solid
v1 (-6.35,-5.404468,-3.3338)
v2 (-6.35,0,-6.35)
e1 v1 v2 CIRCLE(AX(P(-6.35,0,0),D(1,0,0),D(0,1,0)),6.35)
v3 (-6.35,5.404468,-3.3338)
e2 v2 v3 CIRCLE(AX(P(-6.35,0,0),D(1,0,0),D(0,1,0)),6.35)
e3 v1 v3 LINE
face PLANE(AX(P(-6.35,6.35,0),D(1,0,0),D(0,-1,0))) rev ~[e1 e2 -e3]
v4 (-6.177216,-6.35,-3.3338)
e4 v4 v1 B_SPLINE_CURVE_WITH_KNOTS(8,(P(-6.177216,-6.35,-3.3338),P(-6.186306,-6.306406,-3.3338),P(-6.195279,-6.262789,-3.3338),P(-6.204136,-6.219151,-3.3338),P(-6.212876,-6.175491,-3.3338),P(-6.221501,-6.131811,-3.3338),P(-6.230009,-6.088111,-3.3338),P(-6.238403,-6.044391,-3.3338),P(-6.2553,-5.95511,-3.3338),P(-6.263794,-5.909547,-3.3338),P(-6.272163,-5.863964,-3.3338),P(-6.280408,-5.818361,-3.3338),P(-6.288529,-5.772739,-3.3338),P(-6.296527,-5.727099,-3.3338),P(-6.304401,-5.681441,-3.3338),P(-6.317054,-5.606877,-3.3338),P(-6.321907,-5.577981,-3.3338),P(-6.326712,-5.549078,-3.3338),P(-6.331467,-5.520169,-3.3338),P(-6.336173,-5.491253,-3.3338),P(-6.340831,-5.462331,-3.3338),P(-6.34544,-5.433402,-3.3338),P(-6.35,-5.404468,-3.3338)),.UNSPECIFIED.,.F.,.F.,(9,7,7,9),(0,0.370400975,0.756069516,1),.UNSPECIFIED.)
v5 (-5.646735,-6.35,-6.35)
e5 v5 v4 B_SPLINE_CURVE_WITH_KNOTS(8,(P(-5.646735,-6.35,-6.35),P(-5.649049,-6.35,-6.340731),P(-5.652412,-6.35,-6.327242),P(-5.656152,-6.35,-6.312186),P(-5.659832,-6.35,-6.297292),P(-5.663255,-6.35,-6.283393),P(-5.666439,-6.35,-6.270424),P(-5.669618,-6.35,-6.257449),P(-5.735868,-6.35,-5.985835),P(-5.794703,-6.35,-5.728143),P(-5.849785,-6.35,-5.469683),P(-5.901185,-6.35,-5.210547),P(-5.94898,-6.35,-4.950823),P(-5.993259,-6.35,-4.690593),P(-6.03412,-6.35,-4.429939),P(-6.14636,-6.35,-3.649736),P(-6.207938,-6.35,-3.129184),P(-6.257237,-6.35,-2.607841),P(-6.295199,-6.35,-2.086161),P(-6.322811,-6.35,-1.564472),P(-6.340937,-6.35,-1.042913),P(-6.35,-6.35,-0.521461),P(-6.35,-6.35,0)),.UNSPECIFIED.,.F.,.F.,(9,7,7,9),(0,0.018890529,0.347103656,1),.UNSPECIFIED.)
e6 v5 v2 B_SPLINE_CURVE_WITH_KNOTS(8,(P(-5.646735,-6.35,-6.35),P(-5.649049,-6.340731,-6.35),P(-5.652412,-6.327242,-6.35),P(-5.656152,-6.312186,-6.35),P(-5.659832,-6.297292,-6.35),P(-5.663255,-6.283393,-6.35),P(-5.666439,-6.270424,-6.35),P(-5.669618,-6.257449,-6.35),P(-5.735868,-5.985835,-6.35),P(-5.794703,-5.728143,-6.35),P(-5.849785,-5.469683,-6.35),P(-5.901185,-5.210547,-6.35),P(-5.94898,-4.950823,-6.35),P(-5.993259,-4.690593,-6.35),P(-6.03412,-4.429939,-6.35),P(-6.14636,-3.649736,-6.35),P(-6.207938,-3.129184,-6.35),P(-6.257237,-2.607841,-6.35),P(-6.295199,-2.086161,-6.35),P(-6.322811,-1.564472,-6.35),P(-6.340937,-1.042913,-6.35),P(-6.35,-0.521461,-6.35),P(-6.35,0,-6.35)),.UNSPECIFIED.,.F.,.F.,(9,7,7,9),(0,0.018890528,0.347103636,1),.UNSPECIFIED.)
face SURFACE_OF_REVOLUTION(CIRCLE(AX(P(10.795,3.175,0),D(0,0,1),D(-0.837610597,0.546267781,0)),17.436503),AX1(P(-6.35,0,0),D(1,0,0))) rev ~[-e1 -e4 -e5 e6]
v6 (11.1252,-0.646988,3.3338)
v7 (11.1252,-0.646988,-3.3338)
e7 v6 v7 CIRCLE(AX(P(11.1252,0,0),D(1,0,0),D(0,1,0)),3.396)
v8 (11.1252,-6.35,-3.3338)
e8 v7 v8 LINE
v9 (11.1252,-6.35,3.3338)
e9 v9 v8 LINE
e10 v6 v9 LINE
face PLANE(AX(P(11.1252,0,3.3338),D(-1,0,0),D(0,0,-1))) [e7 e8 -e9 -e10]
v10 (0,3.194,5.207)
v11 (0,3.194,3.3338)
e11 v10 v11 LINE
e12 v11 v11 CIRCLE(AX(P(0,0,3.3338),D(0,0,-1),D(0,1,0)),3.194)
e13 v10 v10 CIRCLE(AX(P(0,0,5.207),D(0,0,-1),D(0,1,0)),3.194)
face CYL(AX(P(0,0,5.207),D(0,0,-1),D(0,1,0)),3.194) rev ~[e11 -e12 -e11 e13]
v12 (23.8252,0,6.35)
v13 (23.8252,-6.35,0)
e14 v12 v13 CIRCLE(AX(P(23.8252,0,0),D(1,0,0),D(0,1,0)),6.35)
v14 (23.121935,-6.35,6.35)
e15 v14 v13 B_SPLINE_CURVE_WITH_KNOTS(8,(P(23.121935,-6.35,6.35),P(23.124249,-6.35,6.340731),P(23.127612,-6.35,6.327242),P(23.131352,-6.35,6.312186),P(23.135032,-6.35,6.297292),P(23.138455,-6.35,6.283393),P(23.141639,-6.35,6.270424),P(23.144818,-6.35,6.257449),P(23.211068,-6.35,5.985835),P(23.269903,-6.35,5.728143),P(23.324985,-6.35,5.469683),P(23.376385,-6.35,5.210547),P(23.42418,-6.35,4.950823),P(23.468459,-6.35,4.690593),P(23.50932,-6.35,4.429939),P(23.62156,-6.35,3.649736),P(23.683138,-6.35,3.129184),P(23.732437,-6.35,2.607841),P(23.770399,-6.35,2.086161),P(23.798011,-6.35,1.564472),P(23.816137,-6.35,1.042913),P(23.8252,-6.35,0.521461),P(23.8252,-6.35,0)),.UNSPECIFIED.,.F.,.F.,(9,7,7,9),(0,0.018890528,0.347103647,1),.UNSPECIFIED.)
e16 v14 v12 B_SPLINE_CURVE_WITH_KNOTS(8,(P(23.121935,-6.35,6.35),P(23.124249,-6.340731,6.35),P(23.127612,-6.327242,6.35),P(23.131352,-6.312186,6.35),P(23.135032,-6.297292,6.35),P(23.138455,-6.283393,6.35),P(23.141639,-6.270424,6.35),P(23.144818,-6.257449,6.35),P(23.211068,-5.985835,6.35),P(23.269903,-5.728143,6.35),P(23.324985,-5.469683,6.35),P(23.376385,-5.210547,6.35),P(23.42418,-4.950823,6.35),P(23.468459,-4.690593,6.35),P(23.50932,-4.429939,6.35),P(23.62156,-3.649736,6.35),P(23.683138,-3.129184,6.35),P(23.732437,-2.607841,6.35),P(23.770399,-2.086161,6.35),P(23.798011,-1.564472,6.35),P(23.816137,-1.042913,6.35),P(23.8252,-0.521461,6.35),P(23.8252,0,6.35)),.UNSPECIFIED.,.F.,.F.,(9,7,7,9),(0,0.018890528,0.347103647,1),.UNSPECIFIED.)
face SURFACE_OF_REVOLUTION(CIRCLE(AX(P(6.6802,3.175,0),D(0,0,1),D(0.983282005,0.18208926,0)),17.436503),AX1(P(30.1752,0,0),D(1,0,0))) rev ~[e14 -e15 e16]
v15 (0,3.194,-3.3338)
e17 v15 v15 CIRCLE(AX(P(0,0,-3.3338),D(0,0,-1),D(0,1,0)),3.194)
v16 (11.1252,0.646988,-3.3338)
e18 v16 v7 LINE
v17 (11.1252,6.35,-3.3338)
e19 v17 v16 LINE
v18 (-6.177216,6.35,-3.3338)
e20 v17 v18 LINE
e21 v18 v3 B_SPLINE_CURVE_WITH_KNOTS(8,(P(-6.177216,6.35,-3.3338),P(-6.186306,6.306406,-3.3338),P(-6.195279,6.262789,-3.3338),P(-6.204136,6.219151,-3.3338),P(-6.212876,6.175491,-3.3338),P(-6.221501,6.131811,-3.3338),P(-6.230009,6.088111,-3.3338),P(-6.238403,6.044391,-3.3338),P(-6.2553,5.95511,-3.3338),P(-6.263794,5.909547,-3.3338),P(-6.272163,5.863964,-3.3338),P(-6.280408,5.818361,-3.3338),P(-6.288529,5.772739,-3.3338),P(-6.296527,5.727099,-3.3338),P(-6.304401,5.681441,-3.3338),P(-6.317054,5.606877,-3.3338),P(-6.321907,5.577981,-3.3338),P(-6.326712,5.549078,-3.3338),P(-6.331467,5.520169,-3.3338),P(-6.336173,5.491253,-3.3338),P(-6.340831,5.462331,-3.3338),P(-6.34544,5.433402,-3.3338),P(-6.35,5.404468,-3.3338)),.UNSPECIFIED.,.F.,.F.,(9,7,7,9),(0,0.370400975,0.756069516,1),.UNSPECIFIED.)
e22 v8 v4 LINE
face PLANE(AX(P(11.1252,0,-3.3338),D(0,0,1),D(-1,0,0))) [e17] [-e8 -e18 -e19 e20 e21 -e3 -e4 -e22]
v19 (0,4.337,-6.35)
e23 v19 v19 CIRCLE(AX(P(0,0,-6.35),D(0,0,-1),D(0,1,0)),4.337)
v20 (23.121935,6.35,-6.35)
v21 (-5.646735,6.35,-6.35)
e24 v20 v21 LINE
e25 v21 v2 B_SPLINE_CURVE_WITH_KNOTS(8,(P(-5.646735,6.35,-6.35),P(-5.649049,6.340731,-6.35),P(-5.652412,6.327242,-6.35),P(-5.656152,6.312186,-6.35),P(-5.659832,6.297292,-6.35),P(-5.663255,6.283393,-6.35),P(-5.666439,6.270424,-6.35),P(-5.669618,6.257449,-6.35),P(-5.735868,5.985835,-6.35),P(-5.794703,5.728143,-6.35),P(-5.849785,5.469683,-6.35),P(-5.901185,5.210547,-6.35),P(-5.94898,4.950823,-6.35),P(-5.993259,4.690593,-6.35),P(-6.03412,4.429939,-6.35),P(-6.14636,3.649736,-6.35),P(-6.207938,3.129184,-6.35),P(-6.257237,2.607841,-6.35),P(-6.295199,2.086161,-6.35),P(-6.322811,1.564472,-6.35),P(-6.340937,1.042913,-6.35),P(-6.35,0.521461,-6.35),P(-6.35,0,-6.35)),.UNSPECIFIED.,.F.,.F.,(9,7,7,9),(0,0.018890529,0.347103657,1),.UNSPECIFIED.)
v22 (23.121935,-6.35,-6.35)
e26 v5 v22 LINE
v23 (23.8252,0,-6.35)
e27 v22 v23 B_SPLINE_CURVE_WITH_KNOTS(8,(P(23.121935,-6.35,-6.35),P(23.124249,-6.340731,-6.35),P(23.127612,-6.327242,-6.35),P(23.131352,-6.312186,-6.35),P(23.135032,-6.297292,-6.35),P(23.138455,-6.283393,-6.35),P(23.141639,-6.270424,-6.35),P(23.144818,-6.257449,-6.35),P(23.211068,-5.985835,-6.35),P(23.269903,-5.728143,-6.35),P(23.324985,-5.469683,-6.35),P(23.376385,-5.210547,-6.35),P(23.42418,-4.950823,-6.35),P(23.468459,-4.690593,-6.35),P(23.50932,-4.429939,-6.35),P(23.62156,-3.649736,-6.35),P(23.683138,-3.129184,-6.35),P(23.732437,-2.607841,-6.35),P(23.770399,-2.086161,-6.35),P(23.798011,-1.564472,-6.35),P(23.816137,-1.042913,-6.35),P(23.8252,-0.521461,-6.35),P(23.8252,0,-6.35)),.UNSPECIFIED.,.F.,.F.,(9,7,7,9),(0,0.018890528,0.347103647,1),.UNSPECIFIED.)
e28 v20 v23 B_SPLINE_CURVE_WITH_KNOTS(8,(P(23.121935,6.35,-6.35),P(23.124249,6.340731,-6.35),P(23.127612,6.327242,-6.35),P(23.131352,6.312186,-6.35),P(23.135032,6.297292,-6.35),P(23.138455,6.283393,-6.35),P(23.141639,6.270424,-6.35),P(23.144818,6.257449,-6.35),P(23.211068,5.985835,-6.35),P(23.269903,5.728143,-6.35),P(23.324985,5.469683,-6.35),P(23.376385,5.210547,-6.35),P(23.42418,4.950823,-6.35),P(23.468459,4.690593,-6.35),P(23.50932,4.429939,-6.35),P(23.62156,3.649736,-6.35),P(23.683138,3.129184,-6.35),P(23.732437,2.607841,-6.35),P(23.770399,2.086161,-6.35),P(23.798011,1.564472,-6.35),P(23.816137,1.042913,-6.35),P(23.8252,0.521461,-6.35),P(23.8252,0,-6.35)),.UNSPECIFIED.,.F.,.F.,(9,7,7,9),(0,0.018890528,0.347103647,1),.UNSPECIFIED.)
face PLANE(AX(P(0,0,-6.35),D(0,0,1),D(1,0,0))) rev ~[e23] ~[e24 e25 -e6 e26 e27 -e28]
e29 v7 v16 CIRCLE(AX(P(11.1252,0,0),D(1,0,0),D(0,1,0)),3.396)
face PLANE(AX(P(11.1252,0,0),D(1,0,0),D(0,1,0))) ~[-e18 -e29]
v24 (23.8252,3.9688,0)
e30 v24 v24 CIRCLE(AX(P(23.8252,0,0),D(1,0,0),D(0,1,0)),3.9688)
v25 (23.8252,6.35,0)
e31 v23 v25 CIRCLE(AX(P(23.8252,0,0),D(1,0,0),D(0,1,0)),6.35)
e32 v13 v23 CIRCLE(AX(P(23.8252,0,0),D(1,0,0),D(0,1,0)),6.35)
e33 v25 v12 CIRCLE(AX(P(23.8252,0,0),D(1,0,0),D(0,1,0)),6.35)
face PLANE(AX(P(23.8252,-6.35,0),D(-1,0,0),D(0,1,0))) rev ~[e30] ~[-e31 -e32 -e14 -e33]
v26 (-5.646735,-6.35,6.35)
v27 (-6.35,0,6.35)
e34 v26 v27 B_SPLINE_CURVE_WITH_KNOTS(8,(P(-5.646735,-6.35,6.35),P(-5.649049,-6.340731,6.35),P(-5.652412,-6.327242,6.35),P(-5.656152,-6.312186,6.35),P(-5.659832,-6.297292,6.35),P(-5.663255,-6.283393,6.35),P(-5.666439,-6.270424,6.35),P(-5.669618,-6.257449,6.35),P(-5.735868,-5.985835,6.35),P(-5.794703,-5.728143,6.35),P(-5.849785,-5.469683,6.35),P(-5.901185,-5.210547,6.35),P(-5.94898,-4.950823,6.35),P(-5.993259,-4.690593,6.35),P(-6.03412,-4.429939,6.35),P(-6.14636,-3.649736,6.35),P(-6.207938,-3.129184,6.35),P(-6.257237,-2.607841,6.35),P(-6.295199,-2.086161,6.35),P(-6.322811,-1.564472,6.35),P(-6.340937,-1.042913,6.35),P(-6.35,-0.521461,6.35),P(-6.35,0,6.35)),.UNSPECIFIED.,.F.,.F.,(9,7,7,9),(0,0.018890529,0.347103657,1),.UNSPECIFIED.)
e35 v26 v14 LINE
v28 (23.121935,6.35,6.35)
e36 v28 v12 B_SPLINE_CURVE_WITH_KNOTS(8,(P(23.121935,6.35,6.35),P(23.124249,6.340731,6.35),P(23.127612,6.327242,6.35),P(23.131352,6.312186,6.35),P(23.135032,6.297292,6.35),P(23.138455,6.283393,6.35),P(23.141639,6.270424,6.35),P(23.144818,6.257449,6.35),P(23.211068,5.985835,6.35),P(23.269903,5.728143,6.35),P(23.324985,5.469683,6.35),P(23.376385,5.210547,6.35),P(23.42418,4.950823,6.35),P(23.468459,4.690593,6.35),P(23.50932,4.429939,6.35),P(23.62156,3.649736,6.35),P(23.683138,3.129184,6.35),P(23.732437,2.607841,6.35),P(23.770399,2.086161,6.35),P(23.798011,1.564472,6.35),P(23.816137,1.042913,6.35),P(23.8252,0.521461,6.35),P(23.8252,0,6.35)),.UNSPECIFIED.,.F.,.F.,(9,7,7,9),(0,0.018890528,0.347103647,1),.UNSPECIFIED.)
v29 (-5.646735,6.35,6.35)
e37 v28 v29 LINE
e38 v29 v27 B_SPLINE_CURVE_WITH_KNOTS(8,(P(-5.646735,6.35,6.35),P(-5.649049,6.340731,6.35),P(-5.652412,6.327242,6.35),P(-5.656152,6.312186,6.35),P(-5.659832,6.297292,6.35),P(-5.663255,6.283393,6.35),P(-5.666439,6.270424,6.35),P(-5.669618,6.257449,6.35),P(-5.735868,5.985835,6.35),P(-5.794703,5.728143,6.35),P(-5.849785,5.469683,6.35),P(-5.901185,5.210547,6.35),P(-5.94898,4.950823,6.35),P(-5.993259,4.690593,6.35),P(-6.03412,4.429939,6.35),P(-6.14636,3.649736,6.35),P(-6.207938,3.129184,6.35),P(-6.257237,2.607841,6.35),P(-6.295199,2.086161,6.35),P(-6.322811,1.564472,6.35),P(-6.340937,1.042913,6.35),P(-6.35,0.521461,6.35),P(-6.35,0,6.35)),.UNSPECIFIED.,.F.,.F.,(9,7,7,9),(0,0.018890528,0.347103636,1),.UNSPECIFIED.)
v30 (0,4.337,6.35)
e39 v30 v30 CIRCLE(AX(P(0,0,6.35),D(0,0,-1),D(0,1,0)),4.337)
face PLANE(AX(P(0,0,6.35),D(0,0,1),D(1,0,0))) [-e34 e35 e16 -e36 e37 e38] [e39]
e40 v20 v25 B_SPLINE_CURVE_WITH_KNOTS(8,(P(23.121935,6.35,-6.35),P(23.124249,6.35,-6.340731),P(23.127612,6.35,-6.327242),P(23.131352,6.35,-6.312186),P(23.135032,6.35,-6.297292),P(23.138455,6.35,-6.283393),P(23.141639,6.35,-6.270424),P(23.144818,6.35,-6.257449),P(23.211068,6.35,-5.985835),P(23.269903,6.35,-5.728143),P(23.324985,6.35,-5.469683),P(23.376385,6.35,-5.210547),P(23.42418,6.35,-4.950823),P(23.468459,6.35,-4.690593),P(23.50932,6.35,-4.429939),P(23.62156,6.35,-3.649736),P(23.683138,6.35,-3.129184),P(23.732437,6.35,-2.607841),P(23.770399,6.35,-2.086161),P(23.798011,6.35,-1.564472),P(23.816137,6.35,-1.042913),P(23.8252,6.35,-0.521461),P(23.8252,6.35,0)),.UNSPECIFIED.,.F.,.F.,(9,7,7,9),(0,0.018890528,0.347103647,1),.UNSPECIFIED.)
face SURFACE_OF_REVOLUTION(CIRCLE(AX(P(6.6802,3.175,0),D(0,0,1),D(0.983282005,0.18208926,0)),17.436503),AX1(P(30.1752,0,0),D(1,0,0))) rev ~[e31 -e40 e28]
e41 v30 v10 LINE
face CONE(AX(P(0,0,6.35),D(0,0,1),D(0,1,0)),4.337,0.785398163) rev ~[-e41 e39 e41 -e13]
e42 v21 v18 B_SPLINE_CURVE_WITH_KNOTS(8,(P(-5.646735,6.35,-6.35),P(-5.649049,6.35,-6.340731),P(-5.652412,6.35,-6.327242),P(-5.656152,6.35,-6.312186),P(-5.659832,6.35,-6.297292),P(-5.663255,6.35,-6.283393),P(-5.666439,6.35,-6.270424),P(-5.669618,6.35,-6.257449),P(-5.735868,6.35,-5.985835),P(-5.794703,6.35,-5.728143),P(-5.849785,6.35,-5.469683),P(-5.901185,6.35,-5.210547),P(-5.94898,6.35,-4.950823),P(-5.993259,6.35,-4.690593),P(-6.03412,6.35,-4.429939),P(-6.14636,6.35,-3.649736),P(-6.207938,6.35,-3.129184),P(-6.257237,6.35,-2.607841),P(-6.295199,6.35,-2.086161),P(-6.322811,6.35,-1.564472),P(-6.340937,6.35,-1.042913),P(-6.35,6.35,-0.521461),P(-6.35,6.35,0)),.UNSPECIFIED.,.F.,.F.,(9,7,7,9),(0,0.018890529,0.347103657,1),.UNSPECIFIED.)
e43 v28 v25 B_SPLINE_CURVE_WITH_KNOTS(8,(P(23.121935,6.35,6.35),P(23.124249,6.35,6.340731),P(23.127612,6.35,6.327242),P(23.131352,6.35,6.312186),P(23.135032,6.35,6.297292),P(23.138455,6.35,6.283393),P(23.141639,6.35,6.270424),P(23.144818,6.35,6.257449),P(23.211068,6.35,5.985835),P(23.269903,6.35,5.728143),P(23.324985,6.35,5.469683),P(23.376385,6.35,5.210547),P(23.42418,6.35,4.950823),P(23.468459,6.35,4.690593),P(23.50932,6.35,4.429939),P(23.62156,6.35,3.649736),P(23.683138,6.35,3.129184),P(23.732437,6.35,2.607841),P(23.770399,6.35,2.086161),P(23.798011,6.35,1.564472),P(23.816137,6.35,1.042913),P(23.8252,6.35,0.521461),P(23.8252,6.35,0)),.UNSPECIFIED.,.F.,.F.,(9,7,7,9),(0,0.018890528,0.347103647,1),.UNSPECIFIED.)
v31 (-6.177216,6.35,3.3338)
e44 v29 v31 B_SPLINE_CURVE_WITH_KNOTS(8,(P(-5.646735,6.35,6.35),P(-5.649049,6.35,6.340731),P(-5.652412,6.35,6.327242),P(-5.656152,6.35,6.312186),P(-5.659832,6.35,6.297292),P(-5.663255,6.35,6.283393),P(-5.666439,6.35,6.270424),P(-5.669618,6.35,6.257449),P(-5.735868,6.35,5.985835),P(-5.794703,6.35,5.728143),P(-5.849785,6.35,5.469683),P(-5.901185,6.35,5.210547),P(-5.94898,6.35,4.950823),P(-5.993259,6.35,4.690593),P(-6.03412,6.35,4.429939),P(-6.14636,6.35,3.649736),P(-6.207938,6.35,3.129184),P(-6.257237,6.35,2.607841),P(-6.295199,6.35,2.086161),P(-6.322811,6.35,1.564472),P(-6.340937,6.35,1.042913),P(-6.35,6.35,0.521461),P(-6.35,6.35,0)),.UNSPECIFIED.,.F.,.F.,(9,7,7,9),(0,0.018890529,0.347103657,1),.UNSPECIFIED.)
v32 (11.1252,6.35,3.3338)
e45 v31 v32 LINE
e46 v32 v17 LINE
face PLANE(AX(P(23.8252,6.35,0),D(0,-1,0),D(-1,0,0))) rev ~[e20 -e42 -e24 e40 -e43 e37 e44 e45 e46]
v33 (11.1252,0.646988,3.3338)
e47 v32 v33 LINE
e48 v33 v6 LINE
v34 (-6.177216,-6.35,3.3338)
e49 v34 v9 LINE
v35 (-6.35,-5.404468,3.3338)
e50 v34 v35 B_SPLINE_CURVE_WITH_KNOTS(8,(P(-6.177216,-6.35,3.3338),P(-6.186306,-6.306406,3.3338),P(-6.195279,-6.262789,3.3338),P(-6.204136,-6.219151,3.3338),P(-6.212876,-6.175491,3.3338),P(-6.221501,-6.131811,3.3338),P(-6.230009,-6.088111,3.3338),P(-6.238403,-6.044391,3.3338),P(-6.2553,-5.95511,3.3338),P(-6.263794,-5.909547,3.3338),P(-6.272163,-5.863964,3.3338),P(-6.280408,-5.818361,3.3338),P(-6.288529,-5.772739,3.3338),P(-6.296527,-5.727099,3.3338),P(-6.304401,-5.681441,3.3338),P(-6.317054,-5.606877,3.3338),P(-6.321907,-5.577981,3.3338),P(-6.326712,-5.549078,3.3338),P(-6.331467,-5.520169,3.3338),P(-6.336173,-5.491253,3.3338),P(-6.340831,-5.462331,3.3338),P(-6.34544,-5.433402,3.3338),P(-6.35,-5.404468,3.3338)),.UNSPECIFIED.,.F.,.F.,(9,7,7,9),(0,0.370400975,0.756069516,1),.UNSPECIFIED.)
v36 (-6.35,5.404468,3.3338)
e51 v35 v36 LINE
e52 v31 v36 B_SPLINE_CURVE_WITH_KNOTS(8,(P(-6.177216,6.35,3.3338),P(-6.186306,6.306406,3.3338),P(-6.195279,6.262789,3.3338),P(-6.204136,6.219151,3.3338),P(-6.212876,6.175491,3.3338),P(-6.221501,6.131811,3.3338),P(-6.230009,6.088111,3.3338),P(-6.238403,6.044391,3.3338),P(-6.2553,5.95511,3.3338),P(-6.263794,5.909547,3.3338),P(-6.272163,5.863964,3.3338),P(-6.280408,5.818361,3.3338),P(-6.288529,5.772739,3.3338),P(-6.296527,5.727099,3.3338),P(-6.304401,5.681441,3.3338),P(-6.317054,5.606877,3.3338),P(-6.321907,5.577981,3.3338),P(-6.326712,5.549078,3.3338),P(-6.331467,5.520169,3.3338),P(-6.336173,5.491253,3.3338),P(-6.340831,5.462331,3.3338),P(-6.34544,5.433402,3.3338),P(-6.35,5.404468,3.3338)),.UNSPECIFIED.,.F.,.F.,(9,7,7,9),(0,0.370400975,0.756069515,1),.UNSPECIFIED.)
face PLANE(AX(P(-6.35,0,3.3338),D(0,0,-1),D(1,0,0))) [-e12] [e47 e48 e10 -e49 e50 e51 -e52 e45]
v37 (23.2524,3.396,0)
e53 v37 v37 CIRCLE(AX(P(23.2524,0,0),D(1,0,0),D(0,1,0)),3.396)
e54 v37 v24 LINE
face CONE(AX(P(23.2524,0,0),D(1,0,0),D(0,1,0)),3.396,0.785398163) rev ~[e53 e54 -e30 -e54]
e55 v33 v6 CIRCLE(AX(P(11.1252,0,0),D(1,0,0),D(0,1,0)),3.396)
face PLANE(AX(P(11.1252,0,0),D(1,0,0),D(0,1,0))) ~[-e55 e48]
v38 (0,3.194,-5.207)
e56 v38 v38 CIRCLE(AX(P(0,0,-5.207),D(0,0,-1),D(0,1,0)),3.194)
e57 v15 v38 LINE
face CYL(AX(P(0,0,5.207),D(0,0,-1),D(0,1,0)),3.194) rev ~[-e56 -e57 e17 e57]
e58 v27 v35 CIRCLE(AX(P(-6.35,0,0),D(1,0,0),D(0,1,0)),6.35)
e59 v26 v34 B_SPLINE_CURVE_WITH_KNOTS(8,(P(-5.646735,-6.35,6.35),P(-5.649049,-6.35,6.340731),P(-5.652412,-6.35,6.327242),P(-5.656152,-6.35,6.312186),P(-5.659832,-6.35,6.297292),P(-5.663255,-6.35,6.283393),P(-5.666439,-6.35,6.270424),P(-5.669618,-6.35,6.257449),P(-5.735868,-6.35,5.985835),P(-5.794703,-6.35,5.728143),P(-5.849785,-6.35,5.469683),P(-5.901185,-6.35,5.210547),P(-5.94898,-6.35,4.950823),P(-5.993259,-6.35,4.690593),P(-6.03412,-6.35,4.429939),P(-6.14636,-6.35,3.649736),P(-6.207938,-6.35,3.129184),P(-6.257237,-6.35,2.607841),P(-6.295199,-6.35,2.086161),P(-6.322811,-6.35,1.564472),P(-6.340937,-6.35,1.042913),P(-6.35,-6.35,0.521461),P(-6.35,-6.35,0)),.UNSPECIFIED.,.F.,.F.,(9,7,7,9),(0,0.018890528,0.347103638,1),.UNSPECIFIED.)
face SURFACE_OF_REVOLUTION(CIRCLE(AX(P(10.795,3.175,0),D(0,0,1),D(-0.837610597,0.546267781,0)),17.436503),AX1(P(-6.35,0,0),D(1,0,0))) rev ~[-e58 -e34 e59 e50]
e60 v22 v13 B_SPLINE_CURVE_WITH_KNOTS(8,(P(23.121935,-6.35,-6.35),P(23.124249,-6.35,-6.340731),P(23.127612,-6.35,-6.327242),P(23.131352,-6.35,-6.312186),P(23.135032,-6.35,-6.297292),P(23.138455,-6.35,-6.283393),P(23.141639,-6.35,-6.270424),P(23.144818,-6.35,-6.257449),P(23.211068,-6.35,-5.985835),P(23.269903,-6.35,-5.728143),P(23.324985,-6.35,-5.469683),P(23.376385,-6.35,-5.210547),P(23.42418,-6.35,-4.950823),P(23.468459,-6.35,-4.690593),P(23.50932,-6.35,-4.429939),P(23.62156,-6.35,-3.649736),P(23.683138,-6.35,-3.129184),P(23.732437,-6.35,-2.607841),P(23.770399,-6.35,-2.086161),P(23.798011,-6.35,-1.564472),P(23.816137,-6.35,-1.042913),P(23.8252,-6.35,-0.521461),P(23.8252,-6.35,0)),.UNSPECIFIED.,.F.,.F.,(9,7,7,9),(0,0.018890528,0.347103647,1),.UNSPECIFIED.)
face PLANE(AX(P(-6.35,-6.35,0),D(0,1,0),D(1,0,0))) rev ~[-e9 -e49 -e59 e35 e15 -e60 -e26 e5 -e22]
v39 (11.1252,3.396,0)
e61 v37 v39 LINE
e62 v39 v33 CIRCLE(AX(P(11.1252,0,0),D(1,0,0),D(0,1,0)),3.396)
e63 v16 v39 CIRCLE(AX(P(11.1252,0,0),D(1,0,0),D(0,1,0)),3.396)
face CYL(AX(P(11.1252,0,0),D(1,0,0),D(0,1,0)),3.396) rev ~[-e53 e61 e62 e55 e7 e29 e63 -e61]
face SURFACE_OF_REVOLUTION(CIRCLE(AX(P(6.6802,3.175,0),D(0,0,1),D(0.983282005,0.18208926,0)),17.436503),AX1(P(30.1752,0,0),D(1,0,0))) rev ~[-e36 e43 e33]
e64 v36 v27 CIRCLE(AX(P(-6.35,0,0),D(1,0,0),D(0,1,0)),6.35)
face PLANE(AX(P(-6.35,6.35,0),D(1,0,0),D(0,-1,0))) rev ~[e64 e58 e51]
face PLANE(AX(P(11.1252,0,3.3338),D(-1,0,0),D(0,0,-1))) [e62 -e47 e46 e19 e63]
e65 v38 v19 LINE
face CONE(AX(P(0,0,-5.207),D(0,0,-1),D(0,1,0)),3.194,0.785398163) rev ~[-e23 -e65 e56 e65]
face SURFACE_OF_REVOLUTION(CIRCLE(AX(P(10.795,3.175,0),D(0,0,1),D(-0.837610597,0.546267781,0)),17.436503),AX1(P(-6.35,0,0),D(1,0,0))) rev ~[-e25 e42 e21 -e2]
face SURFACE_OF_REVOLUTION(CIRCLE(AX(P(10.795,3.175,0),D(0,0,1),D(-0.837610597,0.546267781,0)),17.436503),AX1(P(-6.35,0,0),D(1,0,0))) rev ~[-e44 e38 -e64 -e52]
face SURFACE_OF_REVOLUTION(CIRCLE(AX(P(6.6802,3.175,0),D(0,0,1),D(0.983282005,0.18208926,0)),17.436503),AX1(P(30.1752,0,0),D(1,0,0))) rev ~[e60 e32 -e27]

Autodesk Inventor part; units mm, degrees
sketch "Sketch_1" plane through (0, 0, 0) normal (0, 0, 1) x (1, 0, 0)
  line L0 (-6.35, 6.35) -> (-6.35, -6.35)
  line L1 (-6.35, -6.35) -> (23.8252, -6.35)
  line L2 (23.8252, -6.35) -> (23.8252, 6.35)
  line L3 (23.8252, 6.35) -> (-6.35, 6.35)
extrude "Extrusion1" add sketch "Sketch_1" along normal mid plane 12.7
sketch "Sketch_2" plane through (0, 0, 0) normal (0, 1, 0) x (-1, 0, 0)
  line L0 (6.35, -3.3338) -> (6.35, 3.3338)
  line L1 (6.35, 3.3338) -> (-11.1252, 3.3338)
  line L2 (-11.1252, 3.3338) -> (-11.1252, -3.3338)
  line L3 (-11.1252, -3.3338) -> (6.35, -3.3338)
extrude "Extrusion2" cut sketch "Sketch_2" along normal mid plane 12.7
sketch "Sketch_3" plane through (0, 0, 0) normal (0, 0, 1) x (1, 0, 0)
  line L0 (23.8252, 0) -> (12.6492, 0)
  line L1 (12.6492, 0) -> (12.6492, 3.396)
  line L2 (12.6492, 3.396) -> (23.2524, 3.396)
  line L3 (23.2524, 3.396) -> (23.8252, 3.9688)
  line L4 (23.8252, 3.9688) -> (23.8252, 0)
  line L5 (23.8252, 0) -> (12.6492, 0)
revolve "Revolution1" cut sketch "Sketch_3" angle 360 about axis through (23.8252, 0, 0) along (1, 0, 0)
thread "Thread1" size "5/16-20 UN" class "3B" standard "ANSI Unified Screw Threads" full length
sketch "Sketch_4" plane through (0, 0, 0) normal (0, 0, 1) x (1, 0, 0)
  line L0 (12.6492, 0) -> (11.1252, 0)
  line L1 (11.1252, 0) -> (11.1252, 3.396)
  line L2 (11.1252, 3.396) -> (12.6492, 3.396)
  line L3 (12.6492, 3.396) -> (12.6492, 0)
  line L4 (12.6492, 0) -> (11.1252, 0)
revolve "Revolution2" cut sketch "Sketch_4" angle 360 about axis through (12.6492, 0, 0) along (1, 0, 0)
sketch "Sketch_5" plane through (0, 0, 0) normal (1, 0, 0) x (0, 1, 0)
  line L0 (0, -6.35) -> (0, 6.35)
  line L1 (0, 6.35) -> (4.337, 6.35)
  line L2 (4.337, 6.35) -> (3.194, 5.207)
  line L3 (3.194, 5.207) -> (3.194, -5.207)
  line L4 (3.194, -5.207) -> (4.337, -6.35)
  line L5 (4.337, -6.35) -> (0, -6.35)
  line L6 (0, -6.35) -> (0, 6.35)
revolve "Revolution3" cut sketch "Sketch_5" angle 360 about axis through (0, 0, -6.35) along (0, 0, -1)
sketch "Sketch_9" plane through (0, 0, 0) normal (0, 0, 1) x (1, 0, 0)
  line L0 (30.1752, 0) -> (23.8252, 0)
  line L1 (23.8252, 0) -> (23.8252, 6.35)
  arc A0 (23.8252, 6.35) -> (21.2852, 12.7) centre (6.6802, 3.175) ccw
  line L2 (21.2852, 12.7) -> (30.1752, 12.7)
  line L3 (30.1752, 12.7) -> (30.1752, 0)
  line L4 (30.1752, 0) -> (23.8252, 0)
revolve "Revolution4" cut sketch "Sketch_9" angle 360 about axis through (30.1752, 0, 0) along (1, 0, 0)
sketch "Sketch_10" plane through (0, 0, 0) normal (0, 0, 1) x (1, 0, 0)
  line L0 (-6.35, 0) -> (-12.7, 0)
  line L1 (-12.7, 0) -> (-12.7, 12.7)
  line L2 (-12.7, 12.7) -> (-3.81, 12.7)
  arc A0 (-3.81, 12.7) -> (-6.35, 6.35) centre (10.795, 3.175) ccw
  line L3 (-6.35, 6.35) -> (-6.35, 0)
  line L4 (-6.35, 0) -> (-12.7, 0)
revolve "Revolution5" cut sketch "Sketch_10" angle 360 about axis through (-6.35, 0, 0) along (1, 0, 0)
ref_plane "th1_XY" through (23.8252, 3.9688, 0) normal (0, 0, 1) x (1, 0, 0)
ref_plane "th1_YZ" through (23.8252, 3.9688, 0) normal (1, 0, 0) x (0, 1, 0)
ref_plane "th1_ZX" through (23.8252, 3.9688, 0) normal (0, 1, 0) x (0, 0, 1)
ref_plane "th2_XY" through (23.8252, -3.9688, 0) normal (0, 0, 1) x (1, 0, 0)
ref_plane "th2_YZ" through (23.8252, -3.9688, 0) normal (1, 0, 0) x (0, 1, 0)
ref_plane "th2_ZX" through (23.8252, -3.9688, 0) normal (0, 1, 0) x (0, 0, 1)
ref_plane "rod_clevis_body_XY" through (0, 0, 0) normal (0, 0, 1) x (1, 0, 0)
ref_plane "rod_clevis_body_YZ" through (0, 0, 0) normal (1, 0, 0) x (0, 1, 0)
ref_plane "rod_clevis_body_ZX" through (0, 0, 0) normal (0, 1, 0) x (0, 0, 1)
ref_plane "piston_rod_clevis_XY" through (23.8252, 0, 0) normal (1, 0, 0) x (0, 0, -1)
ref_plane "piston_rod_clevis_YZ" through (23.8252, 0, 0) normal (0, 0, -1) x (0, 1, 0)
ref_plane "piston_rod_clevis_ZX" through (23.8252, 0, 0) normal (0, 1, 0) x (1, 0, 0)
ref_plane "dummy_XY" through (0, 0, 0) normal (0, 0, 1) x (1, 0, 0)
ref_plane "dummy_YZ" through (0, 0, 0) normal (1, 0, 0) x (0, 1, 0)
ref_plane "dummy_ZX" through (0, 0, 0) normal (0, 1, 0) x (0, 0, 1)
ref_plane "l11_XY" through (23.8252, 6.35, 0) normal (0, 0, 1) x (1, 0, 0)
ref_plane "l11_YZ" through (23.8252, 6.35, 0) normal (1, 0, 0) x (0, 1, 0)
ref_plane "l11_ZX" through (23.8252, 6.35, 0) normal (0, 1, 0) x (0, 0, 1)
ref_plane "l12_XY" through (0, 6.35, 0) normal (0, 0, 1) x (1, 0, 0)
ref_plane "l12_YZ" through (0, 6.35, 0) normal (1, 0, 0) x (0, 1, 0)
ref_plane "l12_ZX" through (0, 6.35, 0) normal (0, 1, 0) x (0, 0, 1)
ref_plane "l1_XY" through (23.8252, 6.35, 0) normal (0, 0, 1) x (1, 0, 0)
ref_plane "l1_YZ" through (23.8252, 6.35, 0) normal (1, 0, 0) x (0, 1, 0)
ref_plane "l1_ZX" through (23.8252, 6.35, 0) normal (0, 1, 0) x (0, 0, 1)
ref_plane "h1_XY" through (-6.35, 6.35, 0) normal (0, 0, 1) x (1, 0, 0)
ref_plane "h1_YZ" through (-6.35, 6.35, 0) normal (1, 0, 0) x (0, 1, 0)
ref_plane "h1_ZX" through (-6.35, 6.35, 0) normal (0, 1, 0) x (0, 0, 1)
ref_plane "l2_XY" through (-6.35, 6.35, 0) normal (0, 0, 1) x (1, 0, 0)
ref_plane "l2_YZ" through (-6.35, 6.35, 0) normal (1, 0, 0) x (0, 1, 0)
ref_plane "l2_ZX" through (-6.35, 6.35, 0) normal (0, 1, 0) x (0, 0, 1)
ref_plane "h2_XY" through (-6.35, -6.35, 0) normal (0, 0, 1) x (1, 0, 0)
ref_plane "h2_YZ" through (-6.35, -6.35, 0) normal (1, 0, 0) x (0, 1, 0)
ref_plane "h2_ZX" through (-6.35, -6.35, 0) normal (0, 1, 0) x (0, 0, 1)
ref_plane "w11_XY" through (-6.35, 0, -3.3338) normal (0, 1, 0) x (1, 0, 0)
ref_plane "w11_YZ" through (-6.35, 0, -3.3338) normal (1, 0, 0) x (0, 0, -1)
ref_plane "w11_ZX" through (-6.35, 0, -3.3338) normal (0, 0, -1) x (0, 1, 0)
ref_plane "w12_XY" through (-6.35, 0, 3.3338) normal (0, 1, 0) x (1, 0, 0)
ref_plane "w12_YZ" through (-6.35, 0, 3.3338) normal (1, 0, 0) x (0, 0, -1)
ref_plane "w12_ZX" through (-6.35, 0, 3.3338) normal (0, 0, -1) x (0, 1, 0)
ref_plane "l21_XY" through (23.8252, 0, 0) normal (0, 1, 0) x (1, 0, 0)
ref_plane "l21_YZ" through (23.8252, 0, 0) normal (1, 0, 0) x (0, 0, -1)
ref_plane "l21_ZX" through (23.8252, 0, 0) normal (0, 0, -1) x (0, 1, 0)
ref_plane "l22_XY" through (11.1252, 0, 0) normal (0, 1, 0) x (1, 0, 0)
ref_plane "l22_YZ" through (11.1252, 0, 0) normal (1, 0, 0) x (0, 0, -1)
ref_plane "l22_ZX" through (11.1252, 0, 0) normal (0, 0, -1) x (0, 1, 0)
ref_plane "w1_XY" through (23.8252, 0, -6.35) normal (0, 1, 0) x (1, 0, 0)
ref_plane "w1_YZ" through (23.8252, 0, -6.35) normal (1, 0, 0) x (0, 0, -1)
ref_plane "w1_ZX" through (23.8252, 0, -6.35) normal (0, 0, -1) x (0, 1, 0)
ref_plane "w2_XY" through (23.8252, 0, 6.35) normal (0, 1, 0) x (1, 0, 0)
ref_plane "w2_YZ" through (23.8252, 0, 6.35) normal (1, 0, 0) x (0, 0, -1)
ref_plane "w2_ZX" through (23.8252, 0, 6.35) normal (0, 0, -1) x (0, 1, 0)
ref_plane "to_cylinder_XY" through (11.1252, 0, 0) normal (1, 0, 0) x (0, 0, -1)
ref_plane "to_cylinder_YZ" through (11.1252, 0, 0) normal (0, 0, -1) x (0, 1, 0)
ref_plane "to_cylinder_ZX" through (11.1252, 0, 0) normal (0, 1, 0) x (1, 0, 0)
properties part number "D-14059"
